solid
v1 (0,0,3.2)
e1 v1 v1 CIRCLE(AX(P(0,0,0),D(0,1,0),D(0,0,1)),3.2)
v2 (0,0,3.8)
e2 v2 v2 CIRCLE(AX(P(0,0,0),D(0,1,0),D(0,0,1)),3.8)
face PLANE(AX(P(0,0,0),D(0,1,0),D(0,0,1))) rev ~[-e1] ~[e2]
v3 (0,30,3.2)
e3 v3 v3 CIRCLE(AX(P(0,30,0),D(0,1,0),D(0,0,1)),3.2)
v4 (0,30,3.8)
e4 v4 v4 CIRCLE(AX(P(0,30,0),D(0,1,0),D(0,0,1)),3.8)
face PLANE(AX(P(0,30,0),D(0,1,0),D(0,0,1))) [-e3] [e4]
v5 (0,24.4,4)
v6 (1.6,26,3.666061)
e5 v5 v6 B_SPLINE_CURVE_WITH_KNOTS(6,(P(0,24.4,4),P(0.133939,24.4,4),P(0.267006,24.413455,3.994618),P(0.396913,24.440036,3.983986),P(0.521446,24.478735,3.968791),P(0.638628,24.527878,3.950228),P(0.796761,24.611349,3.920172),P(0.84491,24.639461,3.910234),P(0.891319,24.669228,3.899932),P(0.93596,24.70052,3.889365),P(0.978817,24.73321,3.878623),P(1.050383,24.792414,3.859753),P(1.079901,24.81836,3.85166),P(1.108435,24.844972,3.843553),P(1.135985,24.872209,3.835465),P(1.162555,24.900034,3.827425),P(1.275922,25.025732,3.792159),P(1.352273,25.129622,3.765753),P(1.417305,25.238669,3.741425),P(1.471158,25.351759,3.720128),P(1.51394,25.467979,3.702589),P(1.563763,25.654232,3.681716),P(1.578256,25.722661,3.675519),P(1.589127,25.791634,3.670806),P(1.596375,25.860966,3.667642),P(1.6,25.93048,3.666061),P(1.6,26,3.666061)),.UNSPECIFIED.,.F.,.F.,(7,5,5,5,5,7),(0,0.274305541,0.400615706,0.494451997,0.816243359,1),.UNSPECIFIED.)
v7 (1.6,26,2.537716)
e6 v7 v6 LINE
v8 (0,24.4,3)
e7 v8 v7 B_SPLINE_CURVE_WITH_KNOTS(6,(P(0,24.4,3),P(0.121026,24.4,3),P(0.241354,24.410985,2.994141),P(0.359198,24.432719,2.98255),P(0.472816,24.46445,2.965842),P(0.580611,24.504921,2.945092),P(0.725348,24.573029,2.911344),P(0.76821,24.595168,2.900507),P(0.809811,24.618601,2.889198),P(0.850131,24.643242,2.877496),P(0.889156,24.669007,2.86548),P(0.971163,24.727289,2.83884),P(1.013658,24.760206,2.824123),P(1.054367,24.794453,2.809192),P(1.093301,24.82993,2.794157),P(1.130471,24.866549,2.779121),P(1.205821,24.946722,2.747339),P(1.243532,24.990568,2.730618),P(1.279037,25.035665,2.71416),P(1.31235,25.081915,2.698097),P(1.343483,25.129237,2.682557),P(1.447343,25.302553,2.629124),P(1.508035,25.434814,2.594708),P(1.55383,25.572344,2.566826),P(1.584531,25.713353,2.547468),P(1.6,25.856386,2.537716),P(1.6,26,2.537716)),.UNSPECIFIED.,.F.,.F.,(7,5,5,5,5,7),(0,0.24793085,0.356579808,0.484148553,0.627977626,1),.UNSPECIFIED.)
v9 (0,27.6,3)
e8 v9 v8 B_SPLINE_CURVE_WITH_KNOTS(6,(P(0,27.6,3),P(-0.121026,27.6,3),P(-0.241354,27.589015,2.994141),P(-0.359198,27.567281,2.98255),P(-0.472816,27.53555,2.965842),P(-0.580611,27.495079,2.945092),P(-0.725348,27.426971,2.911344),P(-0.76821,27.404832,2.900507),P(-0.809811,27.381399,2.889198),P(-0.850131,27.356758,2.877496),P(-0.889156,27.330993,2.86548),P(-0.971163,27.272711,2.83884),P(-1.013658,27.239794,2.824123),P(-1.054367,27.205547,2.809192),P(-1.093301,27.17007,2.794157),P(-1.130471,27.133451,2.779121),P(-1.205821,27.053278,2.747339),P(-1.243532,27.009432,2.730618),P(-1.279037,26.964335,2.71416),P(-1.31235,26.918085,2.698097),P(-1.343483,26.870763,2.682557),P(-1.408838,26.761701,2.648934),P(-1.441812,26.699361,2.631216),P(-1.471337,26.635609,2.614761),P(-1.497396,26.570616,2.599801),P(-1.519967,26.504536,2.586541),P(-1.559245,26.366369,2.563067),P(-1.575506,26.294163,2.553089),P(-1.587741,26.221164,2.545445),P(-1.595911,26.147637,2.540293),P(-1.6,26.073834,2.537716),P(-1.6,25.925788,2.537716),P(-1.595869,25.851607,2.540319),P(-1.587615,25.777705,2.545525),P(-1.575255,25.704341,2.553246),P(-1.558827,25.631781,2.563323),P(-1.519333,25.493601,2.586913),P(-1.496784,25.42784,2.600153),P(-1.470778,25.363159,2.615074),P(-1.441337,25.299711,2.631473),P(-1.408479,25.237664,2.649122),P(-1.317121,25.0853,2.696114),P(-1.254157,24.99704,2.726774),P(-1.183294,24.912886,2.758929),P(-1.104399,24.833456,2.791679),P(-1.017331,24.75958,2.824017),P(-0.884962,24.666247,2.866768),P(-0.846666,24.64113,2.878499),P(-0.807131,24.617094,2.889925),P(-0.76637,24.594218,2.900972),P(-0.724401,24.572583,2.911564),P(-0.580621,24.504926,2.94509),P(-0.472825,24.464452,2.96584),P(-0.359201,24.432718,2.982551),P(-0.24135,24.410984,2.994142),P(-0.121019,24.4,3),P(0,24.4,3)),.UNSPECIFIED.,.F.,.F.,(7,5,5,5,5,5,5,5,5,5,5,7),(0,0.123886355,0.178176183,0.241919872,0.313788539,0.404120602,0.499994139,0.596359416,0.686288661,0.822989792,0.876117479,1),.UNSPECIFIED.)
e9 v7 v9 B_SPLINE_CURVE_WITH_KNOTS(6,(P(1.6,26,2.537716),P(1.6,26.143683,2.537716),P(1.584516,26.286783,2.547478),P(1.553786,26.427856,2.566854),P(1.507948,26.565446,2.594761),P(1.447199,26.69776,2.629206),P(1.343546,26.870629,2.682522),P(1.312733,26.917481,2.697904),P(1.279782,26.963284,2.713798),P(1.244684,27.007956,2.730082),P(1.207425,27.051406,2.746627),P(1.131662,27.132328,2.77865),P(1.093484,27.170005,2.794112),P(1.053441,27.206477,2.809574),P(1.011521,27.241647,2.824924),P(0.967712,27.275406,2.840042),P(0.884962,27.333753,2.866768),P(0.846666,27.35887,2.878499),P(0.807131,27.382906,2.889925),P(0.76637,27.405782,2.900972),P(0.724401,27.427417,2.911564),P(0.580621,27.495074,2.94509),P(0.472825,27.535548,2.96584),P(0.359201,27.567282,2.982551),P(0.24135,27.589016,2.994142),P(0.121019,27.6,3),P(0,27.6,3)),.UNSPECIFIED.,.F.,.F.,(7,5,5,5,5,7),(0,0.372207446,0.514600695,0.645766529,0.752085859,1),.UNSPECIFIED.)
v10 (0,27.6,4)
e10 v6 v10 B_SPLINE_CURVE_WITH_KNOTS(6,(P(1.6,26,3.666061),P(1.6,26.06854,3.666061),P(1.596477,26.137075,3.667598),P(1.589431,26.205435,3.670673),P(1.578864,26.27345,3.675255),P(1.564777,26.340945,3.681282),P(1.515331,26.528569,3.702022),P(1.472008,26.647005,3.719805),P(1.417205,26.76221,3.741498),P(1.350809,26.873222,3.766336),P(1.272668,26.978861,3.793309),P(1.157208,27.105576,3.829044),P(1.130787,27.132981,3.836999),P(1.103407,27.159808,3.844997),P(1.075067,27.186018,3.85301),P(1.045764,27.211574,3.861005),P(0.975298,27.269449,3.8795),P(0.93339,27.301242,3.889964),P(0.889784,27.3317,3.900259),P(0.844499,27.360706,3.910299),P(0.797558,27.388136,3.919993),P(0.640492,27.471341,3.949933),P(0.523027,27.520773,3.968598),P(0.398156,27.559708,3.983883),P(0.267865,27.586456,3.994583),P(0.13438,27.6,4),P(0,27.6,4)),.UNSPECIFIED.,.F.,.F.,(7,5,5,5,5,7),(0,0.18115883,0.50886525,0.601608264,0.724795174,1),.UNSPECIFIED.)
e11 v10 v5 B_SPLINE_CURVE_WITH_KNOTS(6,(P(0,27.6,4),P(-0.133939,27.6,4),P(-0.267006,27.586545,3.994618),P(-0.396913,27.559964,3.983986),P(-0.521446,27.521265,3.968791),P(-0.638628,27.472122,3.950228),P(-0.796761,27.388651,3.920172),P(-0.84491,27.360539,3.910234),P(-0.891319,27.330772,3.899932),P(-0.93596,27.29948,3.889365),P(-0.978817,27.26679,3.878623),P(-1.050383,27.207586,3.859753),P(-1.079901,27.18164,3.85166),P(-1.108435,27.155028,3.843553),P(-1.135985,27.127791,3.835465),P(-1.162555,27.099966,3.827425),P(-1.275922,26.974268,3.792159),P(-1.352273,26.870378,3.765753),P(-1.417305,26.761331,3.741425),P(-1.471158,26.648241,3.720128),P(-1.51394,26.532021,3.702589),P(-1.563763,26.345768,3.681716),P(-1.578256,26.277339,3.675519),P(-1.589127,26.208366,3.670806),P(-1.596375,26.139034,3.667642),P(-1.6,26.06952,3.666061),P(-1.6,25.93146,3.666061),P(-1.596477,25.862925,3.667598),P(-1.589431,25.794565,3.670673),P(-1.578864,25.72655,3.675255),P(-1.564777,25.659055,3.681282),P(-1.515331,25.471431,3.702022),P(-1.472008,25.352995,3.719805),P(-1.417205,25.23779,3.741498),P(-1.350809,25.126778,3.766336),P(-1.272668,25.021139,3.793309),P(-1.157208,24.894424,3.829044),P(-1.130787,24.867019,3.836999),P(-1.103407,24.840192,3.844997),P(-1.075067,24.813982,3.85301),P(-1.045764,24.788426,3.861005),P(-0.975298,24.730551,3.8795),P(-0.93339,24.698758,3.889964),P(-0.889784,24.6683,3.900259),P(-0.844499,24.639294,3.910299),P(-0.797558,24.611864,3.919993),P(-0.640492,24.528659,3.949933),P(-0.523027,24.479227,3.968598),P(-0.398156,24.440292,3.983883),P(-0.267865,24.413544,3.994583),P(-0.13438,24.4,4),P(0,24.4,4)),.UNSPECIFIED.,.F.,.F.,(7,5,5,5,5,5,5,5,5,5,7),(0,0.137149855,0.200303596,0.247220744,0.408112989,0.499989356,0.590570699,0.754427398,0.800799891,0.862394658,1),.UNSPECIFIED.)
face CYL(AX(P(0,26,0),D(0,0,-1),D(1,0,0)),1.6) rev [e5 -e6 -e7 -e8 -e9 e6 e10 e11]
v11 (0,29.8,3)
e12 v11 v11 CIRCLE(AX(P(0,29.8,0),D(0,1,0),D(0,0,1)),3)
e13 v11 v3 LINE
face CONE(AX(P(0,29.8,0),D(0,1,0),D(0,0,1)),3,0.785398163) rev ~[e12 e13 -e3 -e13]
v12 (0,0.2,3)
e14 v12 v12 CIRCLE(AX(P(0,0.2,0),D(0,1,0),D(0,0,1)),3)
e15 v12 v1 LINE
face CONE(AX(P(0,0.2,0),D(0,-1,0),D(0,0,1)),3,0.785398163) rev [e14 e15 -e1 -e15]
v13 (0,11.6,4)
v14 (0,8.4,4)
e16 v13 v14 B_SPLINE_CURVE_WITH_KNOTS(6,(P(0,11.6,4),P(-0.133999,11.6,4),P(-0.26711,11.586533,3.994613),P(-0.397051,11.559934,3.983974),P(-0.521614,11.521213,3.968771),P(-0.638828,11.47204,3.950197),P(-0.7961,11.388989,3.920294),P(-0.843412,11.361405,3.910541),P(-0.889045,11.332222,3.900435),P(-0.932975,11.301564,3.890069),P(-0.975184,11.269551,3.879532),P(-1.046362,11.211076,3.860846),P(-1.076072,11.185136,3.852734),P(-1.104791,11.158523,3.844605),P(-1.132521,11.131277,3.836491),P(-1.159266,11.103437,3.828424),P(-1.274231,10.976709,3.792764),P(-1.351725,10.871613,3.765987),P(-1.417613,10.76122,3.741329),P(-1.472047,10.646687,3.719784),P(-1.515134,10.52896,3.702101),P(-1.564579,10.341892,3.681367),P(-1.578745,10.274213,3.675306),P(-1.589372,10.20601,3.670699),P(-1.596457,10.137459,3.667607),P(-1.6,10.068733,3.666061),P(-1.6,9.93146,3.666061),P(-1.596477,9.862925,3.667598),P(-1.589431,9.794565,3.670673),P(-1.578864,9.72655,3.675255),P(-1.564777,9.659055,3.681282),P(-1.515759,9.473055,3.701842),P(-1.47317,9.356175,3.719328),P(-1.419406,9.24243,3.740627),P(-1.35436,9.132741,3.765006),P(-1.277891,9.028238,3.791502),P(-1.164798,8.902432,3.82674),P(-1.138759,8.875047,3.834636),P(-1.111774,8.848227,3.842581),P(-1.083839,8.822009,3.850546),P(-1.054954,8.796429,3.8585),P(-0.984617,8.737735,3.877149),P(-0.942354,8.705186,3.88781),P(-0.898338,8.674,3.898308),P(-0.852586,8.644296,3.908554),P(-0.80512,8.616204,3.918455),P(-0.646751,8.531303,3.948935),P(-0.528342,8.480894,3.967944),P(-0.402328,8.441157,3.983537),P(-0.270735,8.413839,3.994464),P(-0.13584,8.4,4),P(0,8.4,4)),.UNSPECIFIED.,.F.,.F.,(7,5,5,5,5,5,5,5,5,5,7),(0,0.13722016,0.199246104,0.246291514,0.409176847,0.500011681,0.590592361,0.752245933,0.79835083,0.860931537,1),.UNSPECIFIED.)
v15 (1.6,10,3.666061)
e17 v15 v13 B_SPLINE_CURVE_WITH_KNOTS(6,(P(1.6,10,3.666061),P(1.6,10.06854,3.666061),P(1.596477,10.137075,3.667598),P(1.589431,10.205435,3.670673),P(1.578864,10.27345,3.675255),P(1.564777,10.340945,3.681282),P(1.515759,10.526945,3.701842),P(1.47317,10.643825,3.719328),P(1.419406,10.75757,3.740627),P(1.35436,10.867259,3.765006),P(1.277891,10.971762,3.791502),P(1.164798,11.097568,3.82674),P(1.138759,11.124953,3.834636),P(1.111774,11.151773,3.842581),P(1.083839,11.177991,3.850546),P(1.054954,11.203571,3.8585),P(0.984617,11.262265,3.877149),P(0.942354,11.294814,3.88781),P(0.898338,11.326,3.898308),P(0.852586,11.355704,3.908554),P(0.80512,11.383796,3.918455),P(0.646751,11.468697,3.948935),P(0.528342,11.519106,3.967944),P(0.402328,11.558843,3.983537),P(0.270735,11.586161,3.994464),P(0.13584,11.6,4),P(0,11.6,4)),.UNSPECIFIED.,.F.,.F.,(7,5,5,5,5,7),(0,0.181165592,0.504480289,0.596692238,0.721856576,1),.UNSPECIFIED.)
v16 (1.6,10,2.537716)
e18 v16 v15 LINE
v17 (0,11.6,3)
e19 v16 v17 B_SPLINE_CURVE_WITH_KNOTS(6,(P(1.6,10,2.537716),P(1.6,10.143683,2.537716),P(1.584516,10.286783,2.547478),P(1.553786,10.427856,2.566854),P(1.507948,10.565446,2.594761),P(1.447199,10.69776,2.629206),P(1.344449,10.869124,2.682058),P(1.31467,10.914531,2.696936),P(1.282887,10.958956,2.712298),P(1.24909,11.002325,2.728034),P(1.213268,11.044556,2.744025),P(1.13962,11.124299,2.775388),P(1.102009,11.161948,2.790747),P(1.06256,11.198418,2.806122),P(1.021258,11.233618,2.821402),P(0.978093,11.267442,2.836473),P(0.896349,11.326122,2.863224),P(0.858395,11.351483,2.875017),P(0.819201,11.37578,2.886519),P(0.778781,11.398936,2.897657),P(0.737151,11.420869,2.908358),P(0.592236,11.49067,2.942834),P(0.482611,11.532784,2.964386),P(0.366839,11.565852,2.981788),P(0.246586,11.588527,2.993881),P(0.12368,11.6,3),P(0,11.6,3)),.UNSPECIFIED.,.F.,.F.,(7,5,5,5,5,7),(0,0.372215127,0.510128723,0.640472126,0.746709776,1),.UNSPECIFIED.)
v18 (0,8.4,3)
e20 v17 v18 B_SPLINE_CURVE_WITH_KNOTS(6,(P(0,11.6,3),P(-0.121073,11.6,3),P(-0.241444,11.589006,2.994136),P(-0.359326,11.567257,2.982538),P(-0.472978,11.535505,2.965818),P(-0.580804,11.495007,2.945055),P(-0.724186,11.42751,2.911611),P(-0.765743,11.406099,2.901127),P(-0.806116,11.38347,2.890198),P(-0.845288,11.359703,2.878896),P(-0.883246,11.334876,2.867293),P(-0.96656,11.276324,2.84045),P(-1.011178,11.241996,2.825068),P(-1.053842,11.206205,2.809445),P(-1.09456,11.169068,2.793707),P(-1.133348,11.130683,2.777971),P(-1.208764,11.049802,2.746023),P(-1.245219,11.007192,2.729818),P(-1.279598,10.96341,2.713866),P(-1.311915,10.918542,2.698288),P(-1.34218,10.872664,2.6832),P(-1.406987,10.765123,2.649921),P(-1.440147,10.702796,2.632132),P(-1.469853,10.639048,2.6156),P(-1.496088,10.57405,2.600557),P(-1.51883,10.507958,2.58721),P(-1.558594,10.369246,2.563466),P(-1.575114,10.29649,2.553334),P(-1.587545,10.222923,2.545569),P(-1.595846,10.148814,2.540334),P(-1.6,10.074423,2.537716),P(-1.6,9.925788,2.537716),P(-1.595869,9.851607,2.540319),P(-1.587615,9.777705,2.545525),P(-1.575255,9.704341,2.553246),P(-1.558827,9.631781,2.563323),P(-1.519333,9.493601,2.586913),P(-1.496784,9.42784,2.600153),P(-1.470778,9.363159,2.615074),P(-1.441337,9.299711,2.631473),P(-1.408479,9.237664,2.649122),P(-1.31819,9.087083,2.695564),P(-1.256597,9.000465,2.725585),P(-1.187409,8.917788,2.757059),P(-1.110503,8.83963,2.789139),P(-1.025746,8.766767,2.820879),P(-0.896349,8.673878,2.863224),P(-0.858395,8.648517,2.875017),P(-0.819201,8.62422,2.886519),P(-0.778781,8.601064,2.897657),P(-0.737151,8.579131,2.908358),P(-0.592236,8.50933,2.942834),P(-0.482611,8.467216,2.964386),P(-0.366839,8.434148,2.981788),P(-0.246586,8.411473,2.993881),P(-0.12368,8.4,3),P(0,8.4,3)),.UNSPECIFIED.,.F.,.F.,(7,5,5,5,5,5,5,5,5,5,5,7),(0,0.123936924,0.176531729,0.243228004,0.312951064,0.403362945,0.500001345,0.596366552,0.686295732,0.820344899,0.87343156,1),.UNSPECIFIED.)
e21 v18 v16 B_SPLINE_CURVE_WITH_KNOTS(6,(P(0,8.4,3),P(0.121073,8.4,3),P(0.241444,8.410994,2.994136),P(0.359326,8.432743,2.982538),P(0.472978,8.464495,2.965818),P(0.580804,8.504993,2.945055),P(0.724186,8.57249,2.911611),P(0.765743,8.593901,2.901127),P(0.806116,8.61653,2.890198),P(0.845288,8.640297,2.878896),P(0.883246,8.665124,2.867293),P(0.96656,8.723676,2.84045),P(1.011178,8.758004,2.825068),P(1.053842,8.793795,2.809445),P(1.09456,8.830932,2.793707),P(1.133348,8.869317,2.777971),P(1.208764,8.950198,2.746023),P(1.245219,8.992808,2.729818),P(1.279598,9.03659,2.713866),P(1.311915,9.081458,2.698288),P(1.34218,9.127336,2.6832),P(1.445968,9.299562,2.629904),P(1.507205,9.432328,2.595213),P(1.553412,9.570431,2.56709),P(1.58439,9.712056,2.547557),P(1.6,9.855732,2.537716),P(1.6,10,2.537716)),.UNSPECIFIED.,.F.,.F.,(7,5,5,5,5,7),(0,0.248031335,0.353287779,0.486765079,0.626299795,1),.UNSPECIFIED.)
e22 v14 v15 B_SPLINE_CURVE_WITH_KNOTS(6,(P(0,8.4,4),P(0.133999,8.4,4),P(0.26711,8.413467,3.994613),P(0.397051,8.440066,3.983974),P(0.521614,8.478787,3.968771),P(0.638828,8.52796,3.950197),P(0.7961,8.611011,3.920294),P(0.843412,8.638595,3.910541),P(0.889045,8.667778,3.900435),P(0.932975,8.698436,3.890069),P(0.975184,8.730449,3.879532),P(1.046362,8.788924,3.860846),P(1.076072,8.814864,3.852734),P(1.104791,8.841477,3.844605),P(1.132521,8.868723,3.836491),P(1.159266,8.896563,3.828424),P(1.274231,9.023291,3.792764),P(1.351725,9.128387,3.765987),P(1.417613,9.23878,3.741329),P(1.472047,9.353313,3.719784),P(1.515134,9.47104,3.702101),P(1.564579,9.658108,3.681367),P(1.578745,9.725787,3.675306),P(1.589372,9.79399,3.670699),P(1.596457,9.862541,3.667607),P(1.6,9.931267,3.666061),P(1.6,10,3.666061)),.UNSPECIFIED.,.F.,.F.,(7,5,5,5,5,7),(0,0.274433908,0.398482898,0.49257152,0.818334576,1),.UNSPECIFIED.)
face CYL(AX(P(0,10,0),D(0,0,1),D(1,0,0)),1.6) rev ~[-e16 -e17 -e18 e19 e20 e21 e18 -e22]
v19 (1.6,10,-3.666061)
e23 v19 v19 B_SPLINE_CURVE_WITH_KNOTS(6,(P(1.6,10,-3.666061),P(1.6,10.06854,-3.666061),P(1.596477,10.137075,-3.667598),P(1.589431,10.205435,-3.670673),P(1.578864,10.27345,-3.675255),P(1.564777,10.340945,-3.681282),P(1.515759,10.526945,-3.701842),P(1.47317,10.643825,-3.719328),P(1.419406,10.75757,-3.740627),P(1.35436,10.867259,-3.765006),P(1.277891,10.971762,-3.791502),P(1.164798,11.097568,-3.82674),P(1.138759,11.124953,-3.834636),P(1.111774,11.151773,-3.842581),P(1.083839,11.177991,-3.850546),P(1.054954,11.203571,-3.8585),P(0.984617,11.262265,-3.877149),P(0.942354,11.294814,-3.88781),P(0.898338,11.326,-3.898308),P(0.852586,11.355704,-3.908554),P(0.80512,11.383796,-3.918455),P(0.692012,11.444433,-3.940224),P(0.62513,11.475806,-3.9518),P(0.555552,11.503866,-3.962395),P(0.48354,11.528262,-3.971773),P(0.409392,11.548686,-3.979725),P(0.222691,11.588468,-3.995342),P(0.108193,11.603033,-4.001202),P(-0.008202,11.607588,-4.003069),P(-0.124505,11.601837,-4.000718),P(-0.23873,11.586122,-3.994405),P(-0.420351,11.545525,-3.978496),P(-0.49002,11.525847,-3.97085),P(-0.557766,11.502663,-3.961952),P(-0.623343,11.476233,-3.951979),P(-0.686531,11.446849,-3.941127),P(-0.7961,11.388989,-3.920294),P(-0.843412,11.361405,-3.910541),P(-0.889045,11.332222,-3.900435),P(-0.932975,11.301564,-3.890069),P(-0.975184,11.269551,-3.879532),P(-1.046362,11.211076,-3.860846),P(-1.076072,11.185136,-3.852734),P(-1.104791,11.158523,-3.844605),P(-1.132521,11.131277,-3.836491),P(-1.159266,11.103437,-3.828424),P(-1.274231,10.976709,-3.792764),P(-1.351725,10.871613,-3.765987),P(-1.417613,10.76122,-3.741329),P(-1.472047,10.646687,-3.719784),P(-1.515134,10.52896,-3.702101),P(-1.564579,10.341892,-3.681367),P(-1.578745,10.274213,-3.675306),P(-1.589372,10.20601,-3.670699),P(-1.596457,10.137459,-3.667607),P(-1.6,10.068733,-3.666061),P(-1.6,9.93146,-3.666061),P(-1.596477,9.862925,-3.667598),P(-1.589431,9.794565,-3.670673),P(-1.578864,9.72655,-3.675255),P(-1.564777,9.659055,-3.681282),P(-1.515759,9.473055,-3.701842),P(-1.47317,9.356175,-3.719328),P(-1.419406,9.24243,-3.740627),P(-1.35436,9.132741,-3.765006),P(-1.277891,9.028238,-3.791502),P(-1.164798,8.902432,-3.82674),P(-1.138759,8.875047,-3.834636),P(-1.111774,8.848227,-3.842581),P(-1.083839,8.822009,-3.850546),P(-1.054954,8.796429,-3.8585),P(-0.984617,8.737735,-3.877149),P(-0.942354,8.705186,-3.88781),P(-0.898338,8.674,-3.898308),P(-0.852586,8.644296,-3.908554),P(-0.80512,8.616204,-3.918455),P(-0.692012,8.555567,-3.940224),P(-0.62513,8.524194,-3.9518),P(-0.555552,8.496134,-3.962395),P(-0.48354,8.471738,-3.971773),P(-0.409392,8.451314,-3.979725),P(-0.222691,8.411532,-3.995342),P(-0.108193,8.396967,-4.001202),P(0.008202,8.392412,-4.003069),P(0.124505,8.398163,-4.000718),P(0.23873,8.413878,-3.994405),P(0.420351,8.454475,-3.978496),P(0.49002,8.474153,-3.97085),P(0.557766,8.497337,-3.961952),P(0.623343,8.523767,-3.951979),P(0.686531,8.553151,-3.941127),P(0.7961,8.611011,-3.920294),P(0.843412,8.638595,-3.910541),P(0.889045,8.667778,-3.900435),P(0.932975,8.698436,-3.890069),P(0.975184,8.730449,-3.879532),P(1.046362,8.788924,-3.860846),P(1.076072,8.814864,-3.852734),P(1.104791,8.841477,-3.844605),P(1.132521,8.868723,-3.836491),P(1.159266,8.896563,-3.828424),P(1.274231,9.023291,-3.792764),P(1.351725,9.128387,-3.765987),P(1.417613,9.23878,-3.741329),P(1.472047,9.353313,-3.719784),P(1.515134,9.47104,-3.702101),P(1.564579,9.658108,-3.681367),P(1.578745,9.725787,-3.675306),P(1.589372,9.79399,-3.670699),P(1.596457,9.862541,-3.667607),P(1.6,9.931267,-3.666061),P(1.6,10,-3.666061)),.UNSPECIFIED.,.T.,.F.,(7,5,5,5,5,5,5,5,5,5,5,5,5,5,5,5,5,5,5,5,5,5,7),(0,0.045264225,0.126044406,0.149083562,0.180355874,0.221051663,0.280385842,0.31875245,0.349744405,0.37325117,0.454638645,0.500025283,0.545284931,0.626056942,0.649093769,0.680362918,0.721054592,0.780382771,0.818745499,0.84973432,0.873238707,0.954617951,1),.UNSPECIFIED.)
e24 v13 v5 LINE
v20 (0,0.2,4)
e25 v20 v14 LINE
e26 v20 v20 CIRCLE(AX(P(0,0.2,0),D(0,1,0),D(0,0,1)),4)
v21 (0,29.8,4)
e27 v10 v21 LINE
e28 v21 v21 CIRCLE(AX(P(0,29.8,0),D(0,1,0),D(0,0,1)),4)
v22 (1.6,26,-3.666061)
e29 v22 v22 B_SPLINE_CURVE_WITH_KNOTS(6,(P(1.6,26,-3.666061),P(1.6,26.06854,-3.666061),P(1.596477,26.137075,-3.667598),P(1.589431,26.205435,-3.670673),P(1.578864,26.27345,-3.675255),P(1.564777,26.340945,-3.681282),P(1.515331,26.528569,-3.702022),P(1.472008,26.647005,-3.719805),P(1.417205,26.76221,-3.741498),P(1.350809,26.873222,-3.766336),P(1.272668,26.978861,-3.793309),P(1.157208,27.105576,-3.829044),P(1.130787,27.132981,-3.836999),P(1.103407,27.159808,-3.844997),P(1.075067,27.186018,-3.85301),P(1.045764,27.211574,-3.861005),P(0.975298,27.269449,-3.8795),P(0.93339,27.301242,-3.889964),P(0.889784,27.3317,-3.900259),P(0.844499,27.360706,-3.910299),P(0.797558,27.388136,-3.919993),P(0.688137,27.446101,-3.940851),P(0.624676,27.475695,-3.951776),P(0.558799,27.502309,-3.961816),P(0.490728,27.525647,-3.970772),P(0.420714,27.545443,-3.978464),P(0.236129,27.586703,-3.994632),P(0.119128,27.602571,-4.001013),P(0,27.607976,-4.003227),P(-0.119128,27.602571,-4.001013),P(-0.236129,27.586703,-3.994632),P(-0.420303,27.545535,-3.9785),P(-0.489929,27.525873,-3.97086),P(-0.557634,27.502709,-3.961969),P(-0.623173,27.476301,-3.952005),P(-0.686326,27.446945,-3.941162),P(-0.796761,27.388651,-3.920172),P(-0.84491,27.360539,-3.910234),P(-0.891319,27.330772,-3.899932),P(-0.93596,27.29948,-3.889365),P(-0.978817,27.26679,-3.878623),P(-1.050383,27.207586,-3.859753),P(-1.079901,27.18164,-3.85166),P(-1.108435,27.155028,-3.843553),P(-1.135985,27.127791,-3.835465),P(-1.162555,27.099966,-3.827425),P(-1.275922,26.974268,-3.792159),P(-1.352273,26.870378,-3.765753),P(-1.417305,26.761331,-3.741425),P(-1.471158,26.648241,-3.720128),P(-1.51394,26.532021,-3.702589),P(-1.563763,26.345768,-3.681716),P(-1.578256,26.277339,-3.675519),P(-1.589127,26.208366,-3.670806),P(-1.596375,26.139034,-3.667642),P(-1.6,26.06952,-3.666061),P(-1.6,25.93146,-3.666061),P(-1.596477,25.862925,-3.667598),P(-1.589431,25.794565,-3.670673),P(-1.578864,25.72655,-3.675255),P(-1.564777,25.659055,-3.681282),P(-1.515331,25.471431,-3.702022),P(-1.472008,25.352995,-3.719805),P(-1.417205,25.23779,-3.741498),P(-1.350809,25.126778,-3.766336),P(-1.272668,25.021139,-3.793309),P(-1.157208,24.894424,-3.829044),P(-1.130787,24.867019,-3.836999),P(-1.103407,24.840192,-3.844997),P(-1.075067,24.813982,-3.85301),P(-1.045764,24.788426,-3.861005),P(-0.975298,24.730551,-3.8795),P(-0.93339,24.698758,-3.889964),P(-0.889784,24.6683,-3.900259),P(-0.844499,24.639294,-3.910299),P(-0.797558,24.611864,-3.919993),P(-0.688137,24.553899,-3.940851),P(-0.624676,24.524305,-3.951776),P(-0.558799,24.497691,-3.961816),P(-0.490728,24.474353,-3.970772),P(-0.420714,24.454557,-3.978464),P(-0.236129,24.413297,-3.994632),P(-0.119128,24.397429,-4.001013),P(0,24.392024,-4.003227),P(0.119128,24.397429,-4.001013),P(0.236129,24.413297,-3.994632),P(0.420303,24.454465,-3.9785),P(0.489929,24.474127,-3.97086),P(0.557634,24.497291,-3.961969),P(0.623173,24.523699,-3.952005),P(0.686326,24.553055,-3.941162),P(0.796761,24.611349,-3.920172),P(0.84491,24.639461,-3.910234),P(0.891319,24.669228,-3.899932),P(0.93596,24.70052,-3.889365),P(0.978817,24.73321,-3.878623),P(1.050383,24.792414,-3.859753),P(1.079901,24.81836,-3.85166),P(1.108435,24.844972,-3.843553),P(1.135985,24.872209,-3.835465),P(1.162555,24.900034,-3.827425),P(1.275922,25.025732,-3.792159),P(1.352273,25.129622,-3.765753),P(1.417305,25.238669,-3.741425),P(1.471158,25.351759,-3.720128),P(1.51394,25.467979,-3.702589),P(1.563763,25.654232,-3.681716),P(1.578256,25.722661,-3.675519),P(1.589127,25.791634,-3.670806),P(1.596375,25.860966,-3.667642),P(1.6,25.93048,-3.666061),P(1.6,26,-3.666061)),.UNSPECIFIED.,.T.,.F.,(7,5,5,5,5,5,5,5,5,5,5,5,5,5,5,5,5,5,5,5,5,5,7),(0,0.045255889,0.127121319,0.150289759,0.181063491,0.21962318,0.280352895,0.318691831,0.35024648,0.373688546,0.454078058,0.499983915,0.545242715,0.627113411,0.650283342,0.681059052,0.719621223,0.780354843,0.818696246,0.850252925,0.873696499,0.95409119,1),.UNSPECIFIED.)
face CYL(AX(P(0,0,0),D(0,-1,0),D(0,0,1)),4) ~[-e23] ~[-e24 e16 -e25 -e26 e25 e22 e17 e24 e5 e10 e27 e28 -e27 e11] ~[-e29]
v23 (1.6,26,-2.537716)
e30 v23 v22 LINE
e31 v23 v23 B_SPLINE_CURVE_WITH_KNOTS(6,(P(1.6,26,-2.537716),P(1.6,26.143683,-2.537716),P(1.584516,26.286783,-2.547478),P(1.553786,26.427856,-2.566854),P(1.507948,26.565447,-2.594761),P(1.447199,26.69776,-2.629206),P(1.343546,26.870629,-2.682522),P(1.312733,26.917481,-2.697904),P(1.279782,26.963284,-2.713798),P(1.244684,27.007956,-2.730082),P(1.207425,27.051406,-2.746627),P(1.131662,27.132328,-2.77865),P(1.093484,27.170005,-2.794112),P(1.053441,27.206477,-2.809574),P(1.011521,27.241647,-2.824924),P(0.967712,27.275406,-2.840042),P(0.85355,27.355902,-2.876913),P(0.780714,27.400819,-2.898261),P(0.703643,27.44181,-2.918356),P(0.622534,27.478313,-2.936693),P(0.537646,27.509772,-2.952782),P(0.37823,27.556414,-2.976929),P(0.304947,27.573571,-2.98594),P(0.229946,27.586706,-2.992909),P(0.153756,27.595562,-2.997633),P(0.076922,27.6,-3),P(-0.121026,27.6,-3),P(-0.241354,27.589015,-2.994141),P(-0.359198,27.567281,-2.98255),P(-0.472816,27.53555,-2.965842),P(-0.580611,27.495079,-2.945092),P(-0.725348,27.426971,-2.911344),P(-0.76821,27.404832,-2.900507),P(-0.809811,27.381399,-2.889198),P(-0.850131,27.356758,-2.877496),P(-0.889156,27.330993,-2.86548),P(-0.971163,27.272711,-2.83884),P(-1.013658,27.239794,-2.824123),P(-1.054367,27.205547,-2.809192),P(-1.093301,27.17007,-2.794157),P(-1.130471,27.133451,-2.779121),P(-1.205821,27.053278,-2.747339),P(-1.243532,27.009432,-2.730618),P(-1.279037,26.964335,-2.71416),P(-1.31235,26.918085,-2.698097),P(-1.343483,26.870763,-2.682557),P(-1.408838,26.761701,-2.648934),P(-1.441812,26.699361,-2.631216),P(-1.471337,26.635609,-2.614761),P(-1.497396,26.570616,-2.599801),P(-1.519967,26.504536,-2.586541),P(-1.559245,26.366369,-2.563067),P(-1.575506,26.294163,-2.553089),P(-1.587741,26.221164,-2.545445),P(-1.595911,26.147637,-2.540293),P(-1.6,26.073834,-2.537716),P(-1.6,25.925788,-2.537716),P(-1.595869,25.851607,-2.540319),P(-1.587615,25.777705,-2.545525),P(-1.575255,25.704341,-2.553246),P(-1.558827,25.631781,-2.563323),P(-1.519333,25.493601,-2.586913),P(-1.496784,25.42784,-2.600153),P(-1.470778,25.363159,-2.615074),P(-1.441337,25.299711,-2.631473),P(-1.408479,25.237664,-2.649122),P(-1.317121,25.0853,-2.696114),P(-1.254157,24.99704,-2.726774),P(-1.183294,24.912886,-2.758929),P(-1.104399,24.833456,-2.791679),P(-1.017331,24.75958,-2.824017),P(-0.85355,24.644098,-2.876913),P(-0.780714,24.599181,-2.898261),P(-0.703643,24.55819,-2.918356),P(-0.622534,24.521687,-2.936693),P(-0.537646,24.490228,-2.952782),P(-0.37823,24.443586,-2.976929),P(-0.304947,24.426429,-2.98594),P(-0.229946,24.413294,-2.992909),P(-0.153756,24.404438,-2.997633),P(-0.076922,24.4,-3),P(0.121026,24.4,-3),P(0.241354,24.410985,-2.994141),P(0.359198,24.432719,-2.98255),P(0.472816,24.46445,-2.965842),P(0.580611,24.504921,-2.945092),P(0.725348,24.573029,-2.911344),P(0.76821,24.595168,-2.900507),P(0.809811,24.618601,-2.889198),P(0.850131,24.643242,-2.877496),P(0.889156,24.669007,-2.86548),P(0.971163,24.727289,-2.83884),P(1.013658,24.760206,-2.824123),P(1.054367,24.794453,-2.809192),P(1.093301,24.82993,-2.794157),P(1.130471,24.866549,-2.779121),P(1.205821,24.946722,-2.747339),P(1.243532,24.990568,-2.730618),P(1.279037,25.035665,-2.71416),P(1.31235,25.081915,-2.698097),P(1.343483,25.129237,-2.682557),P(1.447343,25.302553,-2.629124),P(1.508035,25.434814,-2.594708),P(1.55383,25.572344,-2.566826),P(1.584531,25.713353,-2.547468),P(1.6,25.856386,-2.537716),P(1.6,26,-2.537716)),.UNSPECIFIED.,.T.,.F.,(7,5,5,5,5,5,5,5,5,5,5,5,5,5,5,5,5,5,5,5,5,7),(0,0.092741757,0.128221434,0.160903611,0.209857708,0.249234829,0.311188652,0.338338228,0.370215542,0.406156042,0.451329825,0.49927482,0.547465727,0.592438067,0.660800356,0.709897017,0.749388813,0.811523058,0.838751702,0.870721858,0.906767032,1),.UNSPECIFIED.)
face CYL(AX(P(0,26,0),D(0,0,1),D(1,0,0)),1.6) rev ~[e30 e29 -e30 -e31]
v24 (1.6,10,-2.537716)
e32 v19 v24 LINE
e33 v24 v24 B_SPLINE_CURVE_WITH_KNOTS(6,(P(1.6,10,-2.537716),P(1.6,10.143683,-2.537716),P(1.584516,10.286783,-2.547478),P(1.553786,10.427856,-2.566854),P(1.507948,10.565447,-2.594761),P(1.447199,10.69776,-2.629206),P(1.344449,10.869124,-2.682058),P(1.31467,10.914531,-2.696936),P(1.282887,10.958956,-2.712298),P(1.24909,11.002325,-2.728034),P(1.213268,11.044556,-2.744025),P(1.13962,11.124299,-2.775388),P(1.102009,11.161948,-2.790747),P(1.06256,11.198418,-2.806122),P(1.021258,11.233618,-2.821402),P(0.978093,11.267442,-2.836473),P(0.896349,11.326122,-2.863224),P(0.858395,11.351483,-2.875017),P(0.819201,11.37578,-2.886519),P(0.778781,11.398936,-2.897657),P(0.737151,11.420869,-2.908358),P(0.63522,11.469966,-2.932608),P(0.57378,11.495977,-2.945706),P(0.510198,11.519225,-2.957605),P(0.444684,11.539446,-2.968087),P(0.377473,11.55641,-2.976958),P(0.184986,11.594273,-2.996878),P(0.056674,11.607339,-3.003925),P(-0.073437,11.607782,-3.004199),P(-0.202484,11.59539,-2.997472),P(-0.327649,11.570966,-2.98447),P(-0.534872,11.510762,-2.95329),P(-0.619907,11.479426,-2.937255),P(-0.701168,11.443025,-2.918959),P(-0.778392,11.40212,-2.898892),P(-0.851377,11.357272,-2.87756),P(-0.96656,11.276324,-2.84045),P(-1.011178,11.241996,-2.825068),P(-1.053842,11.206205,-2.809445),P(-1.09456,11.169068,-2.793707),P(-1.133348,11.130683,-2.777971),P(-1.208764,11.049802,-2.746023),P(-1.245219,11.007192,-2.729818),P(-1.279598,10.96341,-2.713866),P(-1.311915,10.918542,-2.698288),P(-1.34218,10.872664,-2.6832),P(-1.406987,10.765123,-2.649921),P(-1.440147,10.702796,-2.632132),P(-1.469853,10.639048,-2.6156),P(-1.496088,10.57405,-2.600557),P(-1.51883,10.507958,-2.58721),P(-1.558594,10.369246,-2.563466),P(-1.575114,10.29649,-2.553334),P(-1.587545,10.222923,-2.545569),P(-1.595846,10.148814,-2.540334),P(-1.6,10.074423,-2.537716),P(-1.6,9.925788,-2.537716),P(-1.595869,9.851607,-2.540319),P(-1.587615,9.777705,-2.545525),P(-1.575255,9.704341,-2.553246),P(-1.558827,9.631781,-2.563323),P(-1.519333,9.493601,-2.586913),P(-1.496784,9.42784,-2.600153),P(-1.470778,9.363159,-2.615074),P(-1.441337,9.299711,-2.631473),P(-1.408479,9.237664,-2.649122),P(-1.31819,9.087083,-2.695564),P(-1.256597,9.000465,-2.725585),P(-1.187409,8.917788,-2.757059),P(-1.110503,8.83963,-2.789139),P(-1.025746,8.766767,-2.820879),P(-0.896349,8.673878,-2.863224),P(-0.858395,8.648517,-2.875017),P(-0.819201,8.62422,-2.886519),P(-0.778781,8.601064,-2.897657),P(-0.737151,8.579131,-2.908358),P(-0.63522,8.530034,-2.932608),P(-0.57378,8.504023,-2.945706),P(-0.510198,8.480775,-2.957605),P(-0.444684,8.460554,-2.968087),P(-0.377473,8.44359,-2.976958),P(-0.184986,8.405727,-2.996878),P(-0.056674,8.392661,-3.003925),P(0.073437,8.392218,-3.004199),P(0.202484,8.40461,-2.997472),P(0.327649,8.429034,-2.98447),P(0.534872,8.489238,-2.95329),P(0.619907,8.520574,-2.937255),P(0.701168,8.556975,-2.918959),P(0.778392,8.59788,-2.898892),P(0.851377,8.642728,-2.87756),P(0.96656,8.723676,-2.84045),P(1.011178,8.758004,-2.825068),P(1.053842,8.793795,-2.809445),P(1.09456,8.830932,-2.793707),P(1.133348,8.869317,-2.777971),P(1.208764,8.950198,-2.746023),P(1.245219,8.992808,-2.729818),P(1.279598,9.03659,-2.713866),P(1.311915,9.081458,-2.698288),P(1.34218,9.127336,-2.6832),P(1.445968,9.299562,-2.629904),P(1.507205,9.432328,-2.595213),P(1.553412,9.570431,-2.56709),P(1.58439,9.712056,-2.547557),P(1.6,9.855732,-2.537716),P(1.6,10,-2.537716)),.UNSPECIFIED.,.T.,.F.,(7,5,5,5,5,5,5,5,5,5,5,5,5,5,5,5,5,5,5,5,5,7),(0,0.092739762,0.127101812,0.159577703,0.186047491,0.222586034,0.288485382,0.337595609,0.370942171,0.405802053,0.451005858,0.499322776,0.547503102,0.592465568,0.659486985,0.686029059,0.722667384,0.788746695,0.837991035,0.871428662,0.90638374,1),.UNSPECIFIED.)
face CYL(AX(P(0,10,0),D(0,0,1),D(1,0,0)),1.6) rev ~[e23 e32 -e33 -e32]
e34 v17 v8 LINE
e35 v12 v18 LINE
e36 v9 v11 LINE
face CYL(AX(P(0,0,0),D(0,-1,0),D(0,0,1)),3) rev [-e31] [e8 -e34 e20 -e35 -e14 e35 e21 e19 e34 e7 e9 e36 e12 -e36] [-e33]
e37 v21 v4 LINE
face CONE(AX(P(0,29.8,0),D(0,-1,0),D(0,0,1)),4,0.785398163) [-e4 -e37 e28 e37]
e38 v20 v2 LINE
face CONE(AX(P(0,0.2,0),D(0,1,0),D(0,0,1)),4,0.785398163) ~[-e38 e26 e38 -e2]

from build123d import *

# Parameters (mm, degrees)
SKIZZE1_R                       = 4
SKIZZE1_R_2                     = 3
AUFSATZ_LINEAR_AUSTRAGEN1_DEPTH = 30
FASE1_SIZE                      = 0.2
SKIZZE2_R                       = 1.6
SCHNITT_LINEAR_AUSTRAGEN1_DEPTH = 6


with BuildPart() as part:
    # Skizze1 → Aufsatz-Linear austragen1 (new body)
    with BuildSketch(Plane(origin=(0, 0, 0), x_dir=(1, 0, 0), z_dir=(0, 1, 0))):
        with Locations(Location((0, 0, 0), (0, 0, 270))):
            Circle(SKIZZE1_R)
        with Locations(Location((0, 0, 0), (0, 0, 270))):
            Circle(SKIZZE1_R_2, mode=Mode.SUBTRACT)
    extrude(amount=AUFSATZ_LINEAR_AUSTRAGEN1_DEPTH)

    # Fase1
    fase1_edges = [part.edges().sort_by_distance(p)[0] for p in [
        (0, 0, -4),
        (0, 30, -4),
        (0, 0, -3),
        (0, 30, -3),
    ]]
    chamfer(fase1_edges, length=FASE1_SIZE)

    # Skizze2 → Schnitt-Linear austragen1 (cut, symmetric)
    with BuildSketch(Plane.XY):
        with Locations((0, 26)):
            Circle(SKIZZE2_R)
        with Locations((0, 10)):
            Circle(SKIZZE2_R)
    extrude(amount=SCHNITT_LINEAR_AUSTRAGEN1_DEPTH, both=True, mode=Mode.SUBTRACT)


solid = part.part
